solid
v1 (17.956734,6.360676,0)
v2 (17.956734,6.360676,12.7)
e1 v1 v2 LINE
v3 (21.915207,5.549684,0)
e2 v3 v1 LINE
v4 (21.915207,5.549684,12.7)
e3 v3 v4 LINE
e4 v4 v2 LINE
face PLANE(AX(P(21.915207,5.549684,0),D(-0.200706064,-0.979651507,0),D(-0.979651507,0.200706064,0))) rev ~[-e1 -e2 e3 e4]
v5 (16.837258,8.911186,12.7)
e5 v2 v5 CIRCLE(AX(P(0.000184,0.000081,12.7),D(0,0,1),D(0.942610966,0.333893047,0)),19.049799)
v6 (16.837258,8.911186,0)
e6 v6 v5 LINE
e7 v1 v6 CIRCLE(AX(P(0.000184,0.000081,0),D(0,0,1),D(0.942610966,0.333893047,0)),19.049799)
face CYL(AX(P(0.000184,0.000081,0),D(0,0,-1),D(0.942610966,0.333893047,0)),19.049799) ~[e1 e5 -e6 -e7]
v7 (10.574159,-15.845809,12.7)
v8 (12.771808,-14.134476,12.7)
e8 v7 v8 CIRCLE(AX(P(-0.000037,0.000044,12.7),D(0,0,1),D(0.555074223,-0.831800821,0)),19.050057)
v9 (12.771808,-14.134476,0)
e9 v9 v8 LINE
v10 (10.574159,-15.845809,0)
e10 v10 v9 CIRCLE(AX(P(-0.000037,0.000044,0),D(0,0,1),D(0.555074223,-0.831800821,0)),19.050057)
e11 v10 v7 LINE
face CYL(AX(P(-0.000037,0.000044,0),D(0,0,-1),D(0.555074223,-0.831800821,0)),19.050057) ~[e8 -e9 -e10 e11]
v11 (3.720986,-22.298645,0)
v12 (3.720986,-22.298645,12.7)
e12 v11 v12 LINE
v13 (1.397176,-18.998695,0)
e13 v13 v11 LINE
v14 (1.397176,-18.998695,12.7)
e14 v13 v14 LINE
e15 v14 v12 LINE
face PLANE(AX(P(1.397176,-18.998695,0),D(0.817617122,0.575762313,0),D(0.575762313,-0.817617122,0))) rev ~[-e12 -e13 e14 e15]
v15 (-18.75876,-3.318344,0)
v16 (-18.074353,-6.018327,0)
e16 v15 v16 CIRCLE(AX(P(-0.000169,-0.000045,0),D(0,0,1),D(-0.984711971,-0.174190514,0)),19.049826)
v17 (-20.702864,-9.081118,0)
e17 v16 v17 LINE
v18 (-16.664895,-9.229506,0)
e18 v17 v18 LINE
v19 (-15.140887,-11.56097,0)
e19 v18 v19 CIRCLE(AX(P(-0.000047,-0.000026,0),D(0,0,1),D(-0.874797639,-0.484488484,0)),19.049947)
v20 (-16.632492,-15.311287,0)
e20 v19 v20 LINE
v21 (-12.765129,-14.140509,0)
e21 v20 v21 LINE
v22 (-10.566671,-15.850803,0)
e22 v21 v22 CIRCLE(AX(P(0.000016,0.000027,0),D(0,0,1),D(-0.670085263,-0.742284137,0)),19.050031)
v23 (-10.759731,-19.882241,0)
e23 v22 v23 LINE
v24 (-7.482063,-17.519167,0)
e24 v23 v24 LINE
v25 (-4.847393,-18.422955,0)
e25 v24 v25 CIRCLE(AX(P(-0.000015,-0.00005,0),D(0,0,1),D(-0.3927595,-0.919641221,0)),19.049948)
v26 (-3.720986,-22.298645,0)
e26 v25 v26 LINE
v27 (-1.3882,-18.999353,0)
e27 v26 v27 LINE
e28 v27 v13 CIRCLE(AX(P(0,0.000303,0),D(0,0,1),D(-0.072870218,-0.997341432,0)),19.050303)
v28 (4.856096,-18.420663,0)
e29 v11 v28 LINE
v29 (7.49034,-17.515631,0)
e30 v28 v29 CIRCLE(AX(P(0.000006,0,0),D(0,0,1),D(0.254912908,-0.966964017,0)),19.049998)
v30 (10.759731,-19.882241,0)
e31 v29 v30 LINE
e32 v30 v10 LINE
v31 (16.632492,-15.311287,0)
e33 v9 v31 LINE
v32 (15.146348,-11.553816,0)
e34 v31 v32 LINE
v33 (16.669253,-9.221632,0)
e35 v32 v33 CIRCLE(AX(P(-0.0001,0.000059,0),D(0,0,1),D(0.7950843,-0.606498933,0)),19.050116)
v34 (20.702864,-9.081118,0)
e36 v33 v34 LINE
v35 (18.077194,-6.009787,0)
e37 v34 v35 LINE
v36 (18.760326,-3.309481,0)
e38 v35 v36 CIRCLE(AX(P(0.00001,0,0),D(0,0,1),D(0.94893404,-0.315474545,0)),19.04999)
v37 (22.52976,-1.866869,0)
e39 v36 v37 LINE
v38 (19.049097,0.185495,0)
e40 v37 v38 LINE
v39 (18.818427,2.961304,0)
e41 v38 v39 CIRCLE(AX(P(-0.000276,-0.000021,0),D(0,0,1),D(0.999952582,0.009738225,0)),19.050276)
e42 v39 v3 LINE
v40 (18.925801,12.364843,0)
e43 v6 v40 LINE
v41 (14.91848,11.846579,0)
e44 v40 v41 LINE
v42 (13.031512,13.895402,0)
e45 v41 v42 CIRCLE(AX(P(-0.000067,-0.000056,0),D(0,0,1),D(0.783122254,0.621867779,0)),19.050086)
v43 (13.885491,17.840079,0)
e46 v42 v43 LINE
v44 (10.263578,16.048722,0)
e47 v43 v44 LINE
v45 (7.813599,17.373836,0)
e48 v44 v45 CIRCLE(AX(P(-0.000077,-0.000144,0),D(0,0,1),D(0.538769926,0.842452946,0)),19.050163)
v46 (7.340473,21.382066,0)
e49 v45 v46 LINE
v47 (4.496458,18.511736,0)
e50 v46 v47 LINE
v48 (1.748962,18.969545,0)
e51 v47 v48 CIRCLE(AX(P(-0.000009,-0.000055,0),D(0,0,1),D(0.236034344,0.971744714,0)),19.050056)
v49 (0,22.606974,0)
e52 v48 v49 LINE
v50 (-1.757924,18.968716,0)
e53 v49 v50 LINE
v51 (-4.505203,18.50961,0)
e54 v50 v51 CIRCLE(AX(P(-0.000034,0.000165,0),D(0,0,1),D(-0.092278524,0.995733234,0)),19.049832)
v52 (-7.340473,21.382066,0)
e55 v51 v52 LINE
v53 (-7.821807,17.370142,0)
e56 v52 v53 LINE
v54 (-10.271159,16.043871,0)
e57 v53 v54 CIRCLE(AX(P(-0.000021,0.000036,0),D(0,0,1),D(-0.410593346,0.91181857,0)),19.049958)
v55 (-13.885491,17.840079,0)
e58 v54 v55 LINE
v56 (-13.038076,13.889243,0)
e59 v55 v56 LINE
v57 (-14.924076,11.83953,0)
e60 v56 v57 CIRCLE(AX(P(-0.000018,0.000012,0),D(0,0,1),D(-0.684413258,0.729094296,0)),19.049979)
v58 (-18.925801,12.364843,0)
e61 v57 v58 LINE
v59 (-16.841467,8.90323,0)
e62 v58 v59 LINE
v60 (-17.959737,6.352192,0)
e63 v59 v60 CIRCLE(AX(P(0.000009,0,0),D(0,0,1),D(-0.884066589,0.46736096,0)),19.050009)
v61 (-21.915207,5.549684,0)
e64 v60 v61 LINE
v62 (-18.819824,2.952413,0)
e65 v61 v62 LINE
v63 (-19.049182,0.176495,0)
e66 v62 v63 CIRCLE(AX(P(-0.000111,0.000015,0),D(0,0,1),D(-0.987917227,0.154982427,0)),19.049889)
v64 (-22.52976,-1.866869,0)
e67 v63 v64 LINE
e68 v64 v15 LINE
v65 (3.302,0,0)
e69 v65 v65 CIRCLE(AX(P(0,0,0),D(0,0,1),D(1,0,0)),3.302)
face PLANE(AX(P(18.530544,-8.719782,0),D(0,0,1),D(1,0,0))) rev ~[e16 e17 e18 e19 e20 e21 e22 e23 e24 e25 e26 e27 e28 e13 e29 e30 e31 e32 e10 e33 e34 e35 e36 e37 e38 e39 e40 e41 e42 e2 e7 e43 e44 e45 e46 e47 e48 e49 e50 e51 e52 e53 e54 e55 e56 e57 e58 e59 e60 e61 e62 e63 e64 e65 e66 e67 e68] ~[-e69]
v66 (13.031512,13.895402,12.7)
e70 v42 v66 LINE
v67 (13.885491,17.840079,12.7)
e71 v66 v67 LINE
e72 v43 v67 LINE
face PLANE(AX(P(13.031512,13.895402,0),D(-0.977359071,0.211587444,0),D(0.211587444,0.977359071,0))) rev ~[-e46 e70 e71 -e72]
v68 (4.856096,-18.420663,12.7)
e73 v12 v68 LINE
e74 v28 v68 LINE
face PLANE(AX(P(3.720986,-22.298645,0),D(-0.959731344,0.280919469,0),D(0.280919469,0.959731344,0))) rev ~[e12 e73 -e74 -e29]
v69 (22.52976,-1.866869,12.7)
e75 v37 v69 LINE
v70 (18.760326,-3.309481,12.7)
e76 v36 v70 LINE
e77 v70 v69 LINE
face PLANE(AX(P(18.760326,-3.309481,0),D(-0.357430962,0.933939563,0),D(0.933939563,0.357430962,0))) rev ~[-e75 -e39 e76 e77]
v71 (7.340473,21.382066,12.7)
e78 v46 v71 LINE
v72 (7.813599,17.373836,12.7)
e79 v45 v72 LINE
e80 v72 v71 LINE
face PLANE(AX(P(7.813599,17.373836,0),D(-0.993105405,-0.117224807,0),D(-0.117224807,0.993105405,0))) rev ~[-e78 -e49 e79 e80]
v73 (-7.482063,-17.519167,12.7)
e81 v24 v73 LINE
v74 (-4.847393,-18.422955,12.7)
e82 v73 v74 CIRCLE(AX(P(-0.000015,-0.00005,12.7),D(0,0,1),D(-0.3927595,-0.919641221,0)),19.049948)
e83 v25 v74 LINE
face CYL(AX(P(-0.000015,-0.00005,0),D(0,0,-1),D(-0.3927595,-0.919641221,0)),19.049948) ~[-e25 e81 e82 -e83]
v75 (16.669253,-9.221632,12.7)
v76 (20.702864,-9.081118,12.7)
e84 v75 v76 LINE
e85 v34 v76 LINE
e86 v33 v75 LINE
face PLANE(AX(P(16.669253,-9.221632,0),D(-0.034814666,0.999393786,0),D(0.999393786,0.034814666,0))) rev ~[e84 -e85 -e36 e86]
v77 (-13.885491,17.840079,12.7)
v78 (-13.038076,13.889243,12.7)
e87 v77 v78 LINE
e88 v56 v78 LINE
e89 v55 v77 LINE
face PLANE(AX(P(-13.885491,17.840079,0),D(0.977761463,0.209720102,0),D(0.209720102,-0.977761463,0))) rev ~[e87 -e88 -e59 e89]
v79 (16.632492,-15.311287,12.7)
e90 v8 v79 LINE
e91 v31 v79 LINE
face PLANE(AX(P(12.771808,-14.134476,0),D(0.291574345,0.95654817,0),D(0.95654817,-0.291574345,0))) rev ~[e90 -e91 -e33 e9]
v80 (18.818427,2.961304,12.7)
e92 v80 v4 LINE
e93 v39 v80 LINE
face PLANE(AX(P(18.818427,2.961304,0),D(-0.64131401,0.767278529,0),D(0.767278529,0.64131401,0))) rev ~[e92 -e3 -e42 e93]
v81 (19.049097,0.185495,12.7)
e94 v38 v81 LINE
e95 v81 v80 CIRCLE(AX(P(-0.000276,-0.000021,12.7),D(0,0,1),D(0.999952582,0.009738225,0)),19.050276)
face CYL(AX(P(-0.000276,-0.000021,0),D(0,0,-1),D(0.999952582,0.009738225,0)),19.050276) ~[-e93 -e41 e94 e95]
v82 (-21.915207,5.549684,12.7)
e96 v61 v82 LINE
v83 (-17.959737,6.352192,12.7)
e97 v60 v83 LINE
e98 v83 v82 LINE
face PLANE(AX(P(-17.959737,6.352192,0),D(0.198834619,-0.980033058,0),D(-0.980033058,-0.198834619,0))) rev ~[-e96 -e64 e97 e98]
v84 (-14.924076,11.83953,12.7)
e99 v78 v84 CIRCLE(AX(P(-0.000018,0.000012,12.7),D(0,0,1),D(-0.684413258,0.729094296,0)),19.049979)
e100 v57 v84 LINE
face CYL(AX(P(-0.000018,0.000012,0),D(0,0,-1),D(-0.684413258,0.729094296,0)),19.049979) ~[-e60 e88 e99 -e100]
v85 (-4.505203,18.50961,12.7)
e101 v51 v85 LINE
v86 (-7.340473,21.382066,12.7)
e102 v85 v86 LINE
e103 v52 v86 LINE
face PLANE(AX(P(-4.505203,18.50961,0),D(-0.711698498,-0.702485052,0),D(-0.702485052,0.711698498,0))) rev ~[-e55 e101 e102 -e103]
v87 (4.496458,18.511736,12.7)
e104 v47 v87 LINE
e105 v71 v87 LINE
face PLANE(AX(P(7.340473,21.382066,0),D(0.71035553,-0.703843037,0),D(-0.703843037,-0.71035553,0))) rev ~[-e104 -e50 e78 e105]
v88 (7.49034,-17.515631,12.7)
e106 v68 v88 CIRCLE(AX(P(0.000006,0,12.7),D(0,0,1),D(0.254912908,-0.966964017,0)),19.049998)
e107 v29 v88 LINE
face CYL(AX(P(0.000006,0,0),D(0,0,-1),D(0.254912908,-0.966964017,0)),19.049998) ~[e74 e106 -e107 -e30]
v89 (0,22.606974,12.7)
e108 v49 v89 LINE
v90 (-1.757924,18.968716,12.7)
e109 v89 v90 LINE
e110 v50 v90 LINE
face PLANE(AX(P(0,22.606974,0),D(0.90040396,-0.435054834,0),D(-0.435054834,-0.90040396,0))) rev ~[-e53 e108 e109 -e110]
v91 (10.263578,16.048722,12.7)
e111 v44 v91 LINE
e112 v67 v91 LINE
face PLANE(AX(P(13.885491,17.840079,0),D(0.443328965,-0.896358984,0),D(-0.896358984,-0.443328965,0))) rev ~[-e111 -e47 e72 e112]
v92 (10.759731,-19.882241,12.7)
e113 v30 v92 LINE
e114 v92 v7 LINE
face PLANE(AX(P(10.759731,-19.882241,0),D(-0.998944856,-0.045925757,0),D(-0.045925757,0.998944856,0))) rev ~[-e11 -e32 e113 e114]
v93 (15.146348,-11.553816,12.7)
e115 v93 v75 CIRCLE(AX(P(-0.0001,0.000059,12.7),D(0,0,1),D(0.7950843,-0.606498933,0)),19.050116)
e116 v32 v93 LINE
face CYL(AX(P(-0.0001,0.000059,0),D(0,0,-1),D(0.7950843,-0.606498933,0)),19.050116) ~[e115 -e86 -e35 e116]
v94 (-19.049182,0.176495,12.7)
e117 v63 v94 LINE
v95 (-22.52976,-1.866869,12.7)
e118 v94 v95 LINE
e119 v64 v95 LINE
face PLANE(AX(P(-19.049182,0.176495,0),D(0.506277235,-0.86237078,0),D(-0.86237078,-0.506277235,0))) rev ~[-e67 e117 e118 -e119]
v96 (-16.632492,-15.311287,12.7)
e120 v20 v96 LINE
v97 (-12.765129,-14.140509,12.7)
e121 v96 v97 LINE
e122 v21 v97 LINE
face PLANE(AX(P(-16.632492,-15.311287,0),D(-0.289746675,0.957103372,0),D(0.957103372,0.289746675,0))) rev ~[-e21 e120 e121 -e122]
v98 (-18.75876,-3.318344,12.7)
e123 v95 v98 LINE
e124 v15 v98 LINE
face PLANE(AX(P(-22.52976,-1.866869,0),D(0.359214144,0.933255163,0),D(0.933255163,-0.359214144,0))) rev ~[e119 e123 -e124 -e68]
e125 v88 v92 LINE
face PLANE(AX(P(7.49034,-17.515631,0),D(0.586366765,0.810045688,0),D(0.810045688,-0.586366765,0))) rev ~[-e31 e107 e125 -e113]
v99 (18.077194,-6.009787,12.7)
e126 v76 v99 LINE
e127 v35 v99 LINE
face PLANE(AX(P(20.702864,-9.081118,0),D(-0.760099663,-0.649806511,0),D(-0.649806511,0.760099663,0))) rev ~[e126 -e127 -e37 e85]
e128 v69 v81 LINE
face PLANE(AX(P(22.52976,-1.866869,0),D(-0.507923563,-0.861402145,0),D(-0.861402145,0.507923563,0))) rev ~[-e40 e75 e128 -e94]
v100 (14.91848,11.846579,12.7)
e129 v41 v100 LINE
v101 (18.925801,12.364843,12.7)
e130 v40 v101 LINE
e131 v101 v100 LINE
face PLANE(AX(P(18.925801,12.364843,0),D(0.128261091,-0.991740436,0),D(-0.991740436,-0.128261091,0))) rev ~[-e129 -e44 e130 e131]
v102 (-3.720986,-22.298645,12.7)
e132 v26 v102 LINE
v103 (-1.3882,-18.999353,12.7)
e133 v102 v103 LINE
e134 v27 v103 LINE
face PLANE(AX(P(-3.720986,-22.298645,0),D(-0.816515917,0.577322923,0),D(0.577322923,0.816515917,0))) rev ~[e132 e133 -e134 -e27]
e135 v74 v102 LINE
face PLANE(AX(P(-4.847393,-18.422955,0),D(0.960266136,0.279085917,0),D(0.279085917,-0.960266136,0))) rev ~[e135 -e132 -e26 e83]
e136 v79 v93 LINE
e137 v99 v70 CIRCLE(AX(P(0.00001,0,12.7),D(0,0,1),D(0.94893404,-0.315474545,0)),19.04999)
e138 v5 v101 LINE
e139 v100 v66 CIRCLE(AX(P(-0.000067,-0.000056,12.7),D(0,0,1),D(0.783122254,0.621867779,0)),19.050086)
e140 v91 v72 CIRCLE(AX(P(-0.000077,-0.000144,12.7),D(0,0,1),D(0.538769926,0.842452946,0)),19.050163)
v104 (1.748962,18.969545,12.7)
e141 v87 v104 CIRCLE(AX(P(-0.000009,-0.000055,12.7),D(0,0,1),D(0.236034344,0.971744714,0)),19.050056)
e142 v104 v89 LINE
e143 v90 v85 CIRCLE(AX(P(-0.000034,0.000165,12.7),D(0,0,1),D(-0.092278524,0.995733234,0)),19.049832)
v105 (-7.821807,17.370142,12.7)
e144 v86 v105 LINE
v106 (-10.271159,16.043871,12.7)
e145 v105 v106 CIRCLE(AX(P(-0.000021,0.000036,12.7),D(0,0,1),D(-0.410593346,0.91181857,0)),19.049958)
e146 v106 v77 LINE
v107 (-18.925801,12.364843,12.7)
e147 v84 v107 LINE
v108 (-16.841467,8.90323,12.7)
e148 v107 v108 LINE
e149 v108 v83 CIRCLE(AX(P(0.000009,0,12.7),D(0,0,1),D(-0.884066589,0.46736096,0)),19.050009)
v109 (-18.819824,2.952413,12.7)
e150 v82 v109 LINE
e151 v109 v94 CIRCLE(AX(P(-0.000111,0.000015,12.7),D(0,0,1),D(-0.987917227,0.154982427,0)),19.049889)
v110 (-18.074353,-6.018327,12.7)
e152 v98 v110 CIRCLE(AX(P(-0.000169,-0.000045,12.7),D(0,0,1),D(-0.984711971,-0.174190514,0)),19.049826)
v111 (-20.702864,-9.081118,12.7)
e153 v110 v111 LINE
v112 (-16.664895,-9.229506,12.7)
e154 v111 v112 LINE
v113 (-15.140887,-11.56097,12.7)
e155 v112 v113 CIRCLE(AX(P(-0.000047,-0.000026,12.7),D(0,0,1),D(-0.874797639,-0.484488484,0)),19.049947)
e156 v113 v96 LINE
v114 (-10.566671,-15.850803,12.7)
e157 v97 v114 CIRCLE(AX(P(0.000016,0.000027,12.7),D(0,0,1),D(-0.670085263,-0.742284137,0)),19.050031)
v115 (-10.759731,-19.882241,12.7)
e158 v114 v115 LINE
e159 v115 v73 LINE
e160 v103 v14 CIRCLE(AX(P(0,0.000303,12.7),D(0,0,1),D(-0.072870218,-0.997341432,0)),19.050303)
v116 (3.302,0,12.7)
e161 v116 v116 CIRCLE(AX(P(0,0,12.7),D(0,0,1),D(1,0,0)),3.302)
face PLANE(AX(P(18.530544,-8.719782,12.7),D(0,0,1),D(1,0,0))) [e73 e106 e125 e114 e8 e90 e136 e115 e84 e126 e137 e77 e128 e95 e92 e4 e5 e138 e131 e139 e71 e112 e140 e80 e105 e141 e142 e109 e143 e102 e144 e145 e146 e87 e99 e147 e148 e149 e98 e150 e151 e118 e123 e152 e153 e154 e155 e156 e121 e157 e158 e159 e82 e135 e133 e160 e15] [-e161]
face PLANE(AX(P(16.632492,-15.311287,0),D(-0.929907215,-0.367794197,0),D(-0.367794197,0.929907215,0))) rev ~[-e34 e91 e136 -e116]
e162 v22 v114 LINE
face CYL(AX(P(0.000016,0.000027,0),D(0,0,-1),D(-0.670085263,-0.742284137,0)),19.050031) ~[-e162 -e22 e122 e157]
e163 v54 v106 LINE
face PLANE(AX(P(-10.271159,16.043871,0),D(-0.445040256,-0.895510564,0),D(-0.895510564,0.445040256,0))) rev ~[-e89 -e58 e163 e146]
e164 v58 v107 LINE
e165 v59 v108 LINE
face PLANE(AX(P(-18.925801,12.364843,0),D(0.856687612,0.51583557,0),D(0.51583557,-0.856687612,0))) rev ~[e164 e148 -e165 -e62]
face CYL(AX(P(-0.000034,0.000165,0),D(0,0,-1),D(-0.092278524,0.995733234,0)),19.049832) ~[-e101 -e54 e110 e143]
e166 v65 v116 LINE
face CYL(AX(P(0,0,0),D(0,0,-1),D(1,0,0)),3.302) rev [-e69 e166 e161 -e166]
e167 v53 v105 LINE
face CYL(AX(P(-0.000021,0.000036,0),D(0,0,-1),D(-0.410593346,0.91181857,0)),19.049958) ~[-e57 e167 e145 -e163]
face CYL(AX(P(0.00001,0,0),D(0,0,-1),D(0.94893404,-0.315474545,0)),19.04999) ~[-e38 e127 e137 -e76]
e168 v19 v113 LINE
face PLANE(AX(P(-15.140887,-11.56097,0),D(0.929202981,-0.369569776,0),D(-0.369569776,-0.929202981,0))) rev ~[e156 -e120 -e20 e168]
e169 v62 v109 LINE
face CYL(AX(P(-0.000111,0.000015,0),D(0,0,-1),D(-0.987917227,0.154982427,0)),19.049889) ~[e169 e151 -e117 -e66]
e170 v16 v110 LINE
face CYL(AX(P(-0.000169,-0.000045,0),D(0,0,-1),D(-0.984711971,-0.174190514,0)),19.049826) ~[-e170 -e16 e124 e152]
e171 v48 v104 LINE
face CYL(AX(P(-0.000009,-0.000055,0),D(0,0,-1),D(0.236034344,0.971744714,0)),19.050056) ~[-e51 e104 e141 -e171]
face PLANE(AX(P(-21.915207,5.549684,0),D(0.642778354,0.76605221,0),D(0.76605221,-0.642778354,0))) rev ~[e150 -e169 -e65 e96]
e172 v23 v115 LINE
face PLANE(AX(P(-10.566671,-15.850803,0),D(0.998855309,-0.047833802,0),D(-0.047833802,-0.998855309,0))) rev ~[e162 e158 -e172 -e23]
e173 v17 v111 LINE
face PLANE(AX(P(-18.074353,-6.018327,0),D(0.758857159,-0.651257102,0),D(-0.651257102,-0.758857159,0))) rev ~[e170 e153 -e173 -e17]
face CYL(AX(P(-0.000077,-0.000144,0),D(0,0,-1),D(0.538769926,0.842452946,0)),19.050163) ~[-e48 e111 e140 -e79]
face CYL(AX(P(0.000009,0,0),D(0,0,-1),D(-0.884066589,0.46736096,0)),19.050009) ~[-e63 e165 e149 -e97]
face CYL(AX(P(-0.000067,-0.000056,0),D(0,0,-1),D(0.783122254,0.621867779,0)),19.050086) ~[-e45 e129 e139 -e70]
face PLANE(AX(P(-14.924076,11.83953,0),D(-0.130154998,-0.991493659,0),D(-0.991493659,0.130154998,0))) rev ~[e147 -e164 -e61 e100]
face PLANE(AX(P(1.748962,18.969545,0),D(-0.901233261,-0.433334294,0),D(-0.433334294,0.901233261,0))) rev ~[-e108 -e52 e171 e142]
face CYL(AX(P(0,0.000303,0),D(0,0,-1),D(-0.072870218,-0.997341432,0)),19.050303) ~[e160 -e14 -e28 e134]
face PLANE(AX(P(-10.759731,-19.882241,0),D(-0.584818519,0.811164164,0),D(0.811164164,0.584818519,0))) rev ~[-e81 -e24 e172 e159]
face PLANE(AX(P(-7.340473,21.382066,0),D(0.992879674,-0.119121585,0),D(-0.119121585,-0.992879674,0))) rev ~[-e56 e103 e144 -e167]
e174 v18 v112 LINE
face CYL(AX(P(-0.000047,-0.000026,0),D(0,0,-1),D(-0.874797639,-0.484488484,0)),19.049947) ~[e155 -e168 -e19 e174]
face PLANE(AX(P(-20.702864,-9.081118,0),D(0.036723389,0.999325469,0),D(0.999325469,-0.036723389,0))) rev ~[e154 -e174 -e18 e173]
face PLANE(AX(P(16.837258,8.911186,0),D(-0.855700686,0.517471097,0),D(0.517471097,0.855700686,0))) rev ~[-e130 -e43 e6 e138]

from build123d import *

# Parameters (mm, degrees)
F0_R     = 3.302
F1_DEPTH = 12.7


with BuildPart() as f1:
    # F0 (on Top) → F1 (new body)
    with BuildSketch(Plane.XY):
        with BuildLine():
            Line((20.702864, -9.081118), (17.445482, -7.652298))
            ThreePointArc((17.445482, -7.652298), (17.075406, -8.445887), (16.669253, -9.221632))
            Line((16.669253, -9.221632), (20.702864, -9.081118))
        make_face()
        with BuildLine():
            Line((-22.52976, -1.866869), (-18.984935, -1.573137))
            ThreePointArc((-18.984935, -1.573137), (-19.037169, -0.699059), (-19.049182, 0.176495))
            Line((-19.049182, 0.176495), (-22.52976, -1.866869))
        make_face()
        with BuildLine():
            Line((-22.52976, -1.866869), (-18.75876, -3.318344))
            ThreePointArc((-18.75876, -3.318344), (-18.892011, -2.448353), (-18.984935, -1.573137))
            Line((-18.984935, -1.573137), (-22.52976, -1.866869))
        make_face()
        with BuildLine():
            Line((3.720986, -22.298645), (3.135527, -18.790183))
            ThreePointArc((3.135527, -18.790183), (2.268748, -18.91442), (1.397176, -18.998695))
            Line((1.397176, -18.998695), (3.720986, -22.298645))
        make_face()
        with BuildLine():
            Line((20.702864, -9.081118), (18.077194, -6.009787))
            ThreePointArc((18.077194, -6.009787), (17.780315, -6.838341), (17.445482, -7.652298))
            Line((17.445482, -7.652298), (20.702864, -9.081118))
        make_face()
        with BuildLine():
            Line((-3.720986, -22.298645), (-3.135527, -18.790183))
            ThreePointArc((-3.135527, -18.790183), (-3.995681, -18.626246), (-4.847393, -18.422955))
            Line((-4.847393, -18.422955), (-3.720986, -22.298645))
        make_face()
        with BuildLine():
            Line((-20.702864, -9.081118), (-17.445482, -7.652298))
            ThreePointArc((-17.445482, -7.652298), (-17.778699, -6.842541), (-18.074353, -6.018327))
            Line((-18.074353, -6.018327), (-20.702864, -9.081118))
        make_face()
        with BuildLine():
            Line((22.52976, -1.866869), (18.984935, -1.573137))
            ThreePointArc((18.984935, -1.573137), (18.892588, -2.44389), (18.760326, -3.309481))
            Line((18.760326, -3.309481), (22.52976, -1.866869))
        make_face()
        with BuildLine():
            Line((3.720986, -22.298645), (4.856096, -18.420663))
            ThreePointArc((4.856096, -18.420663), (4.000081, -18.625301), (3.135527, -18.790183))
            Line((3.135527, -18.790183), (3.720986, -22.298645))
        make_face()
        with BuildLine():
            Line((-3.720986, -22.298645), (-1.3882, -18.999353))
            ThreePointArc((-1.3882, -18.999353), (-2.26428, -18.914955), (-3.135527, -18.790183))
            Line((-3.135527, -18.790183), (-3.720986, -22.298645))
        make_face()
        with BuildLine():
            ThreePointArc((19.049097, 0.185495), (19.049774, 0.092749), (19.05, 0))
            ThreePointArc((19.05, 0), (19.033727, -0.787241), (18.984935, -1.573137))
            Line((18.984935, -1.573137), (22.52976, -1.866869))
            Line((22.52976, -1.866869), (19.049097, 0.185495))
        make_face()
        with BuildLine():
            Line((-20.702864, -9.081118), (-16.664895, -9.229506))
            ThreePointArc((-16.664895, -9.229506), (-17.07341, -8.44992), (-17.445482, -7.652298))
            Line((-17.445482, -7.652298), (-20.702864, -9.081118))
        make_face()
        with BuildLine():
            ThreePointArc((-15.948021, 10.419362), (-15.452372, 11.141216), (-14.924076, 11.83953))
            Line((-14.924076, 11.83953), (-18.925801, 12.364843))
            Line((-18.925801, 12.364843), (-15.948021, 10.419362))
        make_face()
        with BuildLine():
            ThreePointArc((-11.700752, 15.033127), (-10.997573, 15.554931), (-10.271159, 16.043871))
            Line((-10.271159, 16.043871), (-13.885491, 17.840079))
            Line((-13.885491, 17.840079), (-11.700752, 15.033127))
        make_face()
        with BuildLine():
            ThreePointArc((-16.841467, 8.90323), (-16.412261, 9.671618), (-15.948021, 10.419362))
            Line((-15.948021, 10.419362), (-18.925801, 12.364843))
            Line((-18.925801, 12.364843), (-16.841467, 8.90323))
        make_face()
        with BuildLine():
            ThreePointArc((-13.038076, 13.889243), (-12.38263, 14.476636), (-11.700752, 15.033127))
            Line((-11.700752, 15.033127), (-13.885491, 17.840079))
            Line((-13.885491, 17.840079), (-13.038076, 13.889243))
        make_face()
        with BuildLine():
            ThreePointArc((18.467075, 4.676499), (18.662466, 3.82294), (18.818427, 2.961304))
            Line((18.818427, 2.961304), (21.915207, 5.549684))
            Line((21.915207, 5.549684), (18.467075, 4.676499))
        make_face()
        with BuildLine():
            ThreePointArc((17.956734, 6.360676), (18.231363, 5.524484), (18.467075, 4.676499))
            Line((18.467075, 4.676499), (21.915207, 5.549684))
            Line((21.915207, 5.549684), (17.956734, 6.360676))
        make_face()
        with BuildLine():
            ThreePointArc((15.948021, 10.419362), (16.409975, 9.675495), (16.837258, 8.911186))
            Line((16.837258, 8.911186), (18.925801, 12.364843))
            Line((18.925801, 12.364843), (15.948021, 10.419362))
        make_face()
        with BuildLine():
            ThreePointArc((14.91848, 11.846579), (15.44974, 11.144866), (15.948021, 10.419362))
            Line((15.948021, 10.419362), (18.925801, 12.364843))
            Line((18.925801, 12.364843), (14.91848, 11.846579))
        make_face()
        with BuildLine():
            ThreePointArc((11.700752, 15.033127), (12.37921, 14.47956), (13.031512, 13.895402))
            Line((13.031512, 13.895402), (13.885491, 17.840079))
            Line((13.885491, 17.840079), (11.700752, 15.033127))
        make_face()
        with BuildLine():
            ThreePointArc((10.263578, 16.048722), (10.993899, 15.557528), (11.700752, 15.033127))
            Line((11.700752, 15.033127), (13.885491, 17.840079))
            Line((13.885491, 17.840079), (10.263578, 16.048722))
        make_face()
        with BuildLine():
            ThreePointArc((6.185525, 18.017818), (7.006964, 17.714541), (7.813599, 17.373836))
            Line((7.813599, 17.373836), (7.340473, 21.382066))
            Line((7.340473, 21.382066), (6.185525, 18.017818))
        make_face()
        with BuildLine():
            ThreePointArc((4.496458, 18.511736), (5.346698, 18.284292), (6.185525, 18.017818))
            Line((6.185525, 18.017818), (7.340473, 21.382066))
            Line((7.340473, 21.382066), (4.496458, 18.511736))
        make_face()
        with BuildLine():
            ThreePointArc((0, 19.05), (0.875406, 19.029876), (1.748962, 18.969545))
            Line((1.748962, 18.969545), (0, 22.606974))
            Line((0, 22.606974), (0, 19.05))
        make_face()
        with BuildLine():
            ThreePointArc((-1.757924, 18.968716), (-0.879901, 19.029668), (0, 19.05))
            Line((0, 19.05), (0, 22.606974))
            Line((0, 22.606974), (-1.757924, 18.968716))
        make_face()
        with BuildLine():
            ThreePointArc((-6.185525, 18.017818), (-5.351017, 18.283028), (-4.505203, 18.50961))
            Line((-4.505203, 18.50961), (-7.340473, 21.382066))
            Line((-7.340473, 21.382066), (-6.185525, 18.017818))
        make_face()
        with BuildLine():
            ThreePointArc((-7.821807, 17.370142), (-7.011149, 17.712885), (-6.185525, 18.017818))
            Line((-6.185525, 18.017818), (-7.340473, 21.382066))
            Line((-7.340473, 21.382066), (-7.821807, 17.370142))
        make_face()
        with BuildLine():
            Line((-16.632492, -15.311287), (-14.01554, -12.902214))
            ThreePointArc((-14.01554, -12.902214), (-14.593631, -12.244527), (-15.140887, -11.56097))
            Line((-15.140887, -11.56097), (-16.632492, -15.311287))
        make_face()
        with BuildLine():
            ThreePointArc((-18.467075, 4.676499), (-18.232667, 5.520177), (-17.959737, 6.352192))
            Line((-17.959737, 6.352192), (-21.915207, 5.549684))
            Line((-21.915207, 5.549684), (-18.467075, 4.676499))
        make_face()
        with BuildLine():
            Line((16.632492, -15.311287), (14.01554, -12.902214))
            ThreePointArc((14.01554, -12.902214), (13.407838, -13.532641), (12.771808, -14.134476))
            Line((12.771808, -14.134476), (16.632492, -15.311287))
        make_face()
        with BuildLine():
            Line((-16.632492, -15.311287), (-12.765129, -14.140509))
            ThreePointArc((-12.765129, -14.140509), (-13.404641, -13.535808), (-14.01554, -12.902214))
            Line((-14.01554, -12.902214), (-16.632492, -15.311287))
        make_face()
        with BuildLine():
            ThreePointArc((-18.819824, 2.952413), (-18.663368, 3.818531), (-18.467075, 4.676499))
            Line((-18.467075, 4.676499), (-21.915207, 5.549684))
            Line((-21.915207, 5.549684), (-18.819824, 2.952413))
        make_face()
        with BuildLine():
            Line((16.632492, -15.311287), (15.146348, -11.553816))
            ThreePointArc((15.146348, -11.553816), (14.596523, -12.241079), (14.01554, -12.902214))
            Line((14.01554, -12.902214), (16.632492, -15.311287))
        make_face()
        with BuildLine():
            ThreePointArc((18.984935, -1.573137), (19.033727, -0.787241), (19.05, 0))
            ThreePointArc((19.05, 0), (19.049774, 0.092749), (19.049097, 0.185495))
            ThreePointArc((19.049097, 0.185495), (18.984562, 1.577621), (18.818427, 2.961304))
            ThreePointArc((18.818427, 2.961304), (18.662466, 3.82294), (18.467075, 4.676499))
            ThreePointArc((18.467075, 4.676499), (18.231363, 5.524484), (17.956734, 6.360676))
            ThreePointArc((17.956734, 6.360676), (17.443674, 7.656419), (16.837258, 8.911186))
            ThreePointArc((16.837258, 8.911186), (16.409975, 9.675495), (15.948021, 10.419362))
            ThreePointArc((15.948021, 10.419362), (15.44974, 11.144866), (14.91848, 11.846579))
            ThreePointArc((14.91848, 11.846579), (14.012492, 12.905524), (13.031512, 13.895402))
            ThreePointArc((13.031512, 13.895402), (12.37921, 14.47956), (11.700752, 15.033127))
            ThreePointArc((11.700752, 15.033127), (10.993899, 15.557528), (10.263578, 16.048722))
            ThreePointArc((10.263578, 16.048722), (9.06284, 16.756116), (7.813599, 17.373836))
            ThreePointArc((7.813599, 17.373836), (7.006964, 17.714541), (6.185525, 18.017818))
            ThreePointArc((6.185525, 18.017818), (5.346698, 18.284292), (4.496458, 18.511736))
            ThreePointArc((4.496458, 18.511736), (3.131088, 18.790923), (1.748962, 18.969545))
            ThreePointArc((1.748962, 18.969545), (0.875406, 19.029876), (0, 19.05))
            ThreePointArc((0, 19.05), (-0.879901, 19.029668), (-1.757924, 18.968716))
            ThreePointArc((-1.757924, 18.968716), (-3.139966, 18.789442), (-4.505203, 18.50961))
            ThreePointArc((-4.505203, 18.50961), (-5.351017, 18.283028), (-6.185525, 18.017818))
            ThreePointArc((-6.185525, 18.017818), (-7.011149, 17.712885), (-7.821807, 17.370142))
            ThreePointArc((-7.821807, 17.370142), (-9.070755, 16.751833), (-10.271159, 16.043871))
            ThreePointArc((-10.271159, 16.043871), (-10.997573, 15.554931), (-11.700752, 15.033127))
            ThreePointArc((-11.700752, 15.033127), (-12.38263, 14.476636), (-13.038076, 13.889243))
            ThreePointArc((-13.038076, 13.889243), (-14.018588, 12.898903), (-14.924076, 11.83953))
            ThreePointArc((-14.924076, 11.83953), (-15.452372, 11.141216), (-15.948021, 10.419362))
            ThreePointArc((-15.948021, 10.419362), (-16.412261, 9.671618), (-16.841467, 8.90323))
            ThreePointArc((-16.841467, 8.90323), (-17.447289, 7.648177), (-17.959737, 6.352192))
            ThreePointArc((-17.959737, 6.352192), (-18.232667, 5.520177), (-18.467075, 4.676499))
            ThreePointArc((-18.467075, 4.676499), (-18.663368, 3.818531), (-18.819824, 2.952413))
            ThreePointArc((-18.819824, 2.952413), (-18.985306, 1.568652), (-19.049182, 0.176495))
            ThreePointArc((-19.049182, 0.176495), (-19.037169, -0.699059), (-18.984935, -1.573137))
            ThreePointArc((-18.984935, -1.573137), (-18.892011, -2.448353), (-18.75876, -3.318344))
            ThreePointArc((-18.75876, -3.318344), (-18.46597, -4.680861), (-18.074353, -6.018327))
            ThreePointArc((-18.074353, -6.018327), (-17.778699, -6.842541), (-17.445482, -7.652298))
            ThreePointArc((-17.445482, -7.652298), (-17.07341, -8.44992), (-16.664895, -9.229506))
            ThreePointArc((-16.664895, -9.229506), (-15.94556, -10.423129), (-15.140887, -11.56097))
            ThreePointArc((-15.140887, -11.56097), (-14.593631, -12.244527), (-14.01554, -12.902214))
            ThreePointArc((-14.01554, -12.902214), (-13.404641, -13.535808), (-12.765129, -14.140509))
            ThreePointArc((-12.765129, -14.140509), (-11.697201, -15.03589), (-10.566671, -15.850803))
            ThreePointArc((-10.566671, -15.850803), (-9.827116, -16.319629), (-9.066798, -16.753975))
            ThreePointArc((-9.066798, -16.753975), (-8.283271, -17.15488), (-7.482063, -17.519167))
            ThreePointArc((-7.482063, -17.519167), (-6.181268, -18.019279), (-4.847393, -18.422955))
            ThreePointArc((-4.847393, -18.422955), (-3.995681, -18.626246), (-3.135527, -18.790183))
            ThreePointArc((-3.135527, -18.790183), (-2.26428, -18.914955), (-1.3882, -18.999353))
            ThreePointArc((-1.3882, -18.999353), (0.0045, -19.049999), (1.397176, -18.998695))
            ThreePointArc((1.397176, -18.998695), (2.268748, -18.91442), (3.135527, -18.790183))
            ThreePointArc((3.135527, -18.790183), (4.000081, -18.625301), (4.856096, -18.420663))
            ThreePointArc((4.856096, -18.420663), (6.189781, -18.016357), (7.49034, -17.515631))
            ThreePointArc((7.49034, -17.515631), (8.287323, -17.152923), (9.066798, -16.753975))
            ThreePointArc((9.066798, -16.753975), (9.830971, -16.317307), (10.574159, -15.845809))
            ThreePointArc((10.574159, -15.845809), (11.704303, -15.030362), (12.771808, -14.134476))
            ThreePointArc((12.771808, -14.134476), (13.407838, -13.532641), (14.01554, -12.902214))
            ThreePointArc((14.01554, -12.902214), (14.596523, -12.241079), (15.146348, -11.553816))
            ThreePointArc((15.146348, -11.553816), (15.950482, -10.415595), (16.669253, -9.221632))
            ThreePointArc((16.669253, -9.221632), (17.075406, -8.445887), (17.445482, -7.652298))
            ThreePointArc((17.445482, -7.652298), (17.780315, -6.838341), (18.077194, -6.009787))
            ThreePointArc((18.077194, -6.009787), (18.468179, -4.672136), (18.760326, -3.309481))
            ThreePointArc((18.760326, -3.309481), (18.892588, -2.44389), (18.984935, -1.573137))
        make_face()
        Circle(F0_R, mode=Mode.SUBTRACT)
        with BuildLine():
            Line((-10.759731, -19.882241), (-7.482063, -17.519167))
            ThreePointArc((-7.482063, -17.519167), (-8.283271, -17.15488), (-9.066798, -16.753975))
            Line((-9.066798, -16.753975), (-10.759731, -19.882241))
        make_face()
        with BuildLine():
            Line((-10.759731, -19.882241), (-9.066798, -16.753975))
            ThreePointArc((-9.066798, -16.753975), (-9.827116, -16.319629), (-10.566671, -15.850803))
            Line((-10.566671, -15.850803), (-10.759731, -19.882241))
        make_face()
        with BuildLine():
            Line((10.759731, -19.882241), (10.574159, -15.845809))
            ThreePointArc((10.574159, -15.845809), (9.830971, -16.317307), (9.066798, -16.753975))
            Line((9.066798, -16.753975), (10.759731, -19.882241))
        make_face()
        with BuildLine():
            Line((10.759731, -19.882241), (9.066798, -16.753975))
            ThreePointArc((9.066798, -16.753975), (8.287323, -17.152923), (7.49034, -17.515631))
            Line((7.49034, -17.515631), (10.759731, -19.882241))
        make_face()
    extrude(amount=F1_DEPTH)


solid = f1.part
